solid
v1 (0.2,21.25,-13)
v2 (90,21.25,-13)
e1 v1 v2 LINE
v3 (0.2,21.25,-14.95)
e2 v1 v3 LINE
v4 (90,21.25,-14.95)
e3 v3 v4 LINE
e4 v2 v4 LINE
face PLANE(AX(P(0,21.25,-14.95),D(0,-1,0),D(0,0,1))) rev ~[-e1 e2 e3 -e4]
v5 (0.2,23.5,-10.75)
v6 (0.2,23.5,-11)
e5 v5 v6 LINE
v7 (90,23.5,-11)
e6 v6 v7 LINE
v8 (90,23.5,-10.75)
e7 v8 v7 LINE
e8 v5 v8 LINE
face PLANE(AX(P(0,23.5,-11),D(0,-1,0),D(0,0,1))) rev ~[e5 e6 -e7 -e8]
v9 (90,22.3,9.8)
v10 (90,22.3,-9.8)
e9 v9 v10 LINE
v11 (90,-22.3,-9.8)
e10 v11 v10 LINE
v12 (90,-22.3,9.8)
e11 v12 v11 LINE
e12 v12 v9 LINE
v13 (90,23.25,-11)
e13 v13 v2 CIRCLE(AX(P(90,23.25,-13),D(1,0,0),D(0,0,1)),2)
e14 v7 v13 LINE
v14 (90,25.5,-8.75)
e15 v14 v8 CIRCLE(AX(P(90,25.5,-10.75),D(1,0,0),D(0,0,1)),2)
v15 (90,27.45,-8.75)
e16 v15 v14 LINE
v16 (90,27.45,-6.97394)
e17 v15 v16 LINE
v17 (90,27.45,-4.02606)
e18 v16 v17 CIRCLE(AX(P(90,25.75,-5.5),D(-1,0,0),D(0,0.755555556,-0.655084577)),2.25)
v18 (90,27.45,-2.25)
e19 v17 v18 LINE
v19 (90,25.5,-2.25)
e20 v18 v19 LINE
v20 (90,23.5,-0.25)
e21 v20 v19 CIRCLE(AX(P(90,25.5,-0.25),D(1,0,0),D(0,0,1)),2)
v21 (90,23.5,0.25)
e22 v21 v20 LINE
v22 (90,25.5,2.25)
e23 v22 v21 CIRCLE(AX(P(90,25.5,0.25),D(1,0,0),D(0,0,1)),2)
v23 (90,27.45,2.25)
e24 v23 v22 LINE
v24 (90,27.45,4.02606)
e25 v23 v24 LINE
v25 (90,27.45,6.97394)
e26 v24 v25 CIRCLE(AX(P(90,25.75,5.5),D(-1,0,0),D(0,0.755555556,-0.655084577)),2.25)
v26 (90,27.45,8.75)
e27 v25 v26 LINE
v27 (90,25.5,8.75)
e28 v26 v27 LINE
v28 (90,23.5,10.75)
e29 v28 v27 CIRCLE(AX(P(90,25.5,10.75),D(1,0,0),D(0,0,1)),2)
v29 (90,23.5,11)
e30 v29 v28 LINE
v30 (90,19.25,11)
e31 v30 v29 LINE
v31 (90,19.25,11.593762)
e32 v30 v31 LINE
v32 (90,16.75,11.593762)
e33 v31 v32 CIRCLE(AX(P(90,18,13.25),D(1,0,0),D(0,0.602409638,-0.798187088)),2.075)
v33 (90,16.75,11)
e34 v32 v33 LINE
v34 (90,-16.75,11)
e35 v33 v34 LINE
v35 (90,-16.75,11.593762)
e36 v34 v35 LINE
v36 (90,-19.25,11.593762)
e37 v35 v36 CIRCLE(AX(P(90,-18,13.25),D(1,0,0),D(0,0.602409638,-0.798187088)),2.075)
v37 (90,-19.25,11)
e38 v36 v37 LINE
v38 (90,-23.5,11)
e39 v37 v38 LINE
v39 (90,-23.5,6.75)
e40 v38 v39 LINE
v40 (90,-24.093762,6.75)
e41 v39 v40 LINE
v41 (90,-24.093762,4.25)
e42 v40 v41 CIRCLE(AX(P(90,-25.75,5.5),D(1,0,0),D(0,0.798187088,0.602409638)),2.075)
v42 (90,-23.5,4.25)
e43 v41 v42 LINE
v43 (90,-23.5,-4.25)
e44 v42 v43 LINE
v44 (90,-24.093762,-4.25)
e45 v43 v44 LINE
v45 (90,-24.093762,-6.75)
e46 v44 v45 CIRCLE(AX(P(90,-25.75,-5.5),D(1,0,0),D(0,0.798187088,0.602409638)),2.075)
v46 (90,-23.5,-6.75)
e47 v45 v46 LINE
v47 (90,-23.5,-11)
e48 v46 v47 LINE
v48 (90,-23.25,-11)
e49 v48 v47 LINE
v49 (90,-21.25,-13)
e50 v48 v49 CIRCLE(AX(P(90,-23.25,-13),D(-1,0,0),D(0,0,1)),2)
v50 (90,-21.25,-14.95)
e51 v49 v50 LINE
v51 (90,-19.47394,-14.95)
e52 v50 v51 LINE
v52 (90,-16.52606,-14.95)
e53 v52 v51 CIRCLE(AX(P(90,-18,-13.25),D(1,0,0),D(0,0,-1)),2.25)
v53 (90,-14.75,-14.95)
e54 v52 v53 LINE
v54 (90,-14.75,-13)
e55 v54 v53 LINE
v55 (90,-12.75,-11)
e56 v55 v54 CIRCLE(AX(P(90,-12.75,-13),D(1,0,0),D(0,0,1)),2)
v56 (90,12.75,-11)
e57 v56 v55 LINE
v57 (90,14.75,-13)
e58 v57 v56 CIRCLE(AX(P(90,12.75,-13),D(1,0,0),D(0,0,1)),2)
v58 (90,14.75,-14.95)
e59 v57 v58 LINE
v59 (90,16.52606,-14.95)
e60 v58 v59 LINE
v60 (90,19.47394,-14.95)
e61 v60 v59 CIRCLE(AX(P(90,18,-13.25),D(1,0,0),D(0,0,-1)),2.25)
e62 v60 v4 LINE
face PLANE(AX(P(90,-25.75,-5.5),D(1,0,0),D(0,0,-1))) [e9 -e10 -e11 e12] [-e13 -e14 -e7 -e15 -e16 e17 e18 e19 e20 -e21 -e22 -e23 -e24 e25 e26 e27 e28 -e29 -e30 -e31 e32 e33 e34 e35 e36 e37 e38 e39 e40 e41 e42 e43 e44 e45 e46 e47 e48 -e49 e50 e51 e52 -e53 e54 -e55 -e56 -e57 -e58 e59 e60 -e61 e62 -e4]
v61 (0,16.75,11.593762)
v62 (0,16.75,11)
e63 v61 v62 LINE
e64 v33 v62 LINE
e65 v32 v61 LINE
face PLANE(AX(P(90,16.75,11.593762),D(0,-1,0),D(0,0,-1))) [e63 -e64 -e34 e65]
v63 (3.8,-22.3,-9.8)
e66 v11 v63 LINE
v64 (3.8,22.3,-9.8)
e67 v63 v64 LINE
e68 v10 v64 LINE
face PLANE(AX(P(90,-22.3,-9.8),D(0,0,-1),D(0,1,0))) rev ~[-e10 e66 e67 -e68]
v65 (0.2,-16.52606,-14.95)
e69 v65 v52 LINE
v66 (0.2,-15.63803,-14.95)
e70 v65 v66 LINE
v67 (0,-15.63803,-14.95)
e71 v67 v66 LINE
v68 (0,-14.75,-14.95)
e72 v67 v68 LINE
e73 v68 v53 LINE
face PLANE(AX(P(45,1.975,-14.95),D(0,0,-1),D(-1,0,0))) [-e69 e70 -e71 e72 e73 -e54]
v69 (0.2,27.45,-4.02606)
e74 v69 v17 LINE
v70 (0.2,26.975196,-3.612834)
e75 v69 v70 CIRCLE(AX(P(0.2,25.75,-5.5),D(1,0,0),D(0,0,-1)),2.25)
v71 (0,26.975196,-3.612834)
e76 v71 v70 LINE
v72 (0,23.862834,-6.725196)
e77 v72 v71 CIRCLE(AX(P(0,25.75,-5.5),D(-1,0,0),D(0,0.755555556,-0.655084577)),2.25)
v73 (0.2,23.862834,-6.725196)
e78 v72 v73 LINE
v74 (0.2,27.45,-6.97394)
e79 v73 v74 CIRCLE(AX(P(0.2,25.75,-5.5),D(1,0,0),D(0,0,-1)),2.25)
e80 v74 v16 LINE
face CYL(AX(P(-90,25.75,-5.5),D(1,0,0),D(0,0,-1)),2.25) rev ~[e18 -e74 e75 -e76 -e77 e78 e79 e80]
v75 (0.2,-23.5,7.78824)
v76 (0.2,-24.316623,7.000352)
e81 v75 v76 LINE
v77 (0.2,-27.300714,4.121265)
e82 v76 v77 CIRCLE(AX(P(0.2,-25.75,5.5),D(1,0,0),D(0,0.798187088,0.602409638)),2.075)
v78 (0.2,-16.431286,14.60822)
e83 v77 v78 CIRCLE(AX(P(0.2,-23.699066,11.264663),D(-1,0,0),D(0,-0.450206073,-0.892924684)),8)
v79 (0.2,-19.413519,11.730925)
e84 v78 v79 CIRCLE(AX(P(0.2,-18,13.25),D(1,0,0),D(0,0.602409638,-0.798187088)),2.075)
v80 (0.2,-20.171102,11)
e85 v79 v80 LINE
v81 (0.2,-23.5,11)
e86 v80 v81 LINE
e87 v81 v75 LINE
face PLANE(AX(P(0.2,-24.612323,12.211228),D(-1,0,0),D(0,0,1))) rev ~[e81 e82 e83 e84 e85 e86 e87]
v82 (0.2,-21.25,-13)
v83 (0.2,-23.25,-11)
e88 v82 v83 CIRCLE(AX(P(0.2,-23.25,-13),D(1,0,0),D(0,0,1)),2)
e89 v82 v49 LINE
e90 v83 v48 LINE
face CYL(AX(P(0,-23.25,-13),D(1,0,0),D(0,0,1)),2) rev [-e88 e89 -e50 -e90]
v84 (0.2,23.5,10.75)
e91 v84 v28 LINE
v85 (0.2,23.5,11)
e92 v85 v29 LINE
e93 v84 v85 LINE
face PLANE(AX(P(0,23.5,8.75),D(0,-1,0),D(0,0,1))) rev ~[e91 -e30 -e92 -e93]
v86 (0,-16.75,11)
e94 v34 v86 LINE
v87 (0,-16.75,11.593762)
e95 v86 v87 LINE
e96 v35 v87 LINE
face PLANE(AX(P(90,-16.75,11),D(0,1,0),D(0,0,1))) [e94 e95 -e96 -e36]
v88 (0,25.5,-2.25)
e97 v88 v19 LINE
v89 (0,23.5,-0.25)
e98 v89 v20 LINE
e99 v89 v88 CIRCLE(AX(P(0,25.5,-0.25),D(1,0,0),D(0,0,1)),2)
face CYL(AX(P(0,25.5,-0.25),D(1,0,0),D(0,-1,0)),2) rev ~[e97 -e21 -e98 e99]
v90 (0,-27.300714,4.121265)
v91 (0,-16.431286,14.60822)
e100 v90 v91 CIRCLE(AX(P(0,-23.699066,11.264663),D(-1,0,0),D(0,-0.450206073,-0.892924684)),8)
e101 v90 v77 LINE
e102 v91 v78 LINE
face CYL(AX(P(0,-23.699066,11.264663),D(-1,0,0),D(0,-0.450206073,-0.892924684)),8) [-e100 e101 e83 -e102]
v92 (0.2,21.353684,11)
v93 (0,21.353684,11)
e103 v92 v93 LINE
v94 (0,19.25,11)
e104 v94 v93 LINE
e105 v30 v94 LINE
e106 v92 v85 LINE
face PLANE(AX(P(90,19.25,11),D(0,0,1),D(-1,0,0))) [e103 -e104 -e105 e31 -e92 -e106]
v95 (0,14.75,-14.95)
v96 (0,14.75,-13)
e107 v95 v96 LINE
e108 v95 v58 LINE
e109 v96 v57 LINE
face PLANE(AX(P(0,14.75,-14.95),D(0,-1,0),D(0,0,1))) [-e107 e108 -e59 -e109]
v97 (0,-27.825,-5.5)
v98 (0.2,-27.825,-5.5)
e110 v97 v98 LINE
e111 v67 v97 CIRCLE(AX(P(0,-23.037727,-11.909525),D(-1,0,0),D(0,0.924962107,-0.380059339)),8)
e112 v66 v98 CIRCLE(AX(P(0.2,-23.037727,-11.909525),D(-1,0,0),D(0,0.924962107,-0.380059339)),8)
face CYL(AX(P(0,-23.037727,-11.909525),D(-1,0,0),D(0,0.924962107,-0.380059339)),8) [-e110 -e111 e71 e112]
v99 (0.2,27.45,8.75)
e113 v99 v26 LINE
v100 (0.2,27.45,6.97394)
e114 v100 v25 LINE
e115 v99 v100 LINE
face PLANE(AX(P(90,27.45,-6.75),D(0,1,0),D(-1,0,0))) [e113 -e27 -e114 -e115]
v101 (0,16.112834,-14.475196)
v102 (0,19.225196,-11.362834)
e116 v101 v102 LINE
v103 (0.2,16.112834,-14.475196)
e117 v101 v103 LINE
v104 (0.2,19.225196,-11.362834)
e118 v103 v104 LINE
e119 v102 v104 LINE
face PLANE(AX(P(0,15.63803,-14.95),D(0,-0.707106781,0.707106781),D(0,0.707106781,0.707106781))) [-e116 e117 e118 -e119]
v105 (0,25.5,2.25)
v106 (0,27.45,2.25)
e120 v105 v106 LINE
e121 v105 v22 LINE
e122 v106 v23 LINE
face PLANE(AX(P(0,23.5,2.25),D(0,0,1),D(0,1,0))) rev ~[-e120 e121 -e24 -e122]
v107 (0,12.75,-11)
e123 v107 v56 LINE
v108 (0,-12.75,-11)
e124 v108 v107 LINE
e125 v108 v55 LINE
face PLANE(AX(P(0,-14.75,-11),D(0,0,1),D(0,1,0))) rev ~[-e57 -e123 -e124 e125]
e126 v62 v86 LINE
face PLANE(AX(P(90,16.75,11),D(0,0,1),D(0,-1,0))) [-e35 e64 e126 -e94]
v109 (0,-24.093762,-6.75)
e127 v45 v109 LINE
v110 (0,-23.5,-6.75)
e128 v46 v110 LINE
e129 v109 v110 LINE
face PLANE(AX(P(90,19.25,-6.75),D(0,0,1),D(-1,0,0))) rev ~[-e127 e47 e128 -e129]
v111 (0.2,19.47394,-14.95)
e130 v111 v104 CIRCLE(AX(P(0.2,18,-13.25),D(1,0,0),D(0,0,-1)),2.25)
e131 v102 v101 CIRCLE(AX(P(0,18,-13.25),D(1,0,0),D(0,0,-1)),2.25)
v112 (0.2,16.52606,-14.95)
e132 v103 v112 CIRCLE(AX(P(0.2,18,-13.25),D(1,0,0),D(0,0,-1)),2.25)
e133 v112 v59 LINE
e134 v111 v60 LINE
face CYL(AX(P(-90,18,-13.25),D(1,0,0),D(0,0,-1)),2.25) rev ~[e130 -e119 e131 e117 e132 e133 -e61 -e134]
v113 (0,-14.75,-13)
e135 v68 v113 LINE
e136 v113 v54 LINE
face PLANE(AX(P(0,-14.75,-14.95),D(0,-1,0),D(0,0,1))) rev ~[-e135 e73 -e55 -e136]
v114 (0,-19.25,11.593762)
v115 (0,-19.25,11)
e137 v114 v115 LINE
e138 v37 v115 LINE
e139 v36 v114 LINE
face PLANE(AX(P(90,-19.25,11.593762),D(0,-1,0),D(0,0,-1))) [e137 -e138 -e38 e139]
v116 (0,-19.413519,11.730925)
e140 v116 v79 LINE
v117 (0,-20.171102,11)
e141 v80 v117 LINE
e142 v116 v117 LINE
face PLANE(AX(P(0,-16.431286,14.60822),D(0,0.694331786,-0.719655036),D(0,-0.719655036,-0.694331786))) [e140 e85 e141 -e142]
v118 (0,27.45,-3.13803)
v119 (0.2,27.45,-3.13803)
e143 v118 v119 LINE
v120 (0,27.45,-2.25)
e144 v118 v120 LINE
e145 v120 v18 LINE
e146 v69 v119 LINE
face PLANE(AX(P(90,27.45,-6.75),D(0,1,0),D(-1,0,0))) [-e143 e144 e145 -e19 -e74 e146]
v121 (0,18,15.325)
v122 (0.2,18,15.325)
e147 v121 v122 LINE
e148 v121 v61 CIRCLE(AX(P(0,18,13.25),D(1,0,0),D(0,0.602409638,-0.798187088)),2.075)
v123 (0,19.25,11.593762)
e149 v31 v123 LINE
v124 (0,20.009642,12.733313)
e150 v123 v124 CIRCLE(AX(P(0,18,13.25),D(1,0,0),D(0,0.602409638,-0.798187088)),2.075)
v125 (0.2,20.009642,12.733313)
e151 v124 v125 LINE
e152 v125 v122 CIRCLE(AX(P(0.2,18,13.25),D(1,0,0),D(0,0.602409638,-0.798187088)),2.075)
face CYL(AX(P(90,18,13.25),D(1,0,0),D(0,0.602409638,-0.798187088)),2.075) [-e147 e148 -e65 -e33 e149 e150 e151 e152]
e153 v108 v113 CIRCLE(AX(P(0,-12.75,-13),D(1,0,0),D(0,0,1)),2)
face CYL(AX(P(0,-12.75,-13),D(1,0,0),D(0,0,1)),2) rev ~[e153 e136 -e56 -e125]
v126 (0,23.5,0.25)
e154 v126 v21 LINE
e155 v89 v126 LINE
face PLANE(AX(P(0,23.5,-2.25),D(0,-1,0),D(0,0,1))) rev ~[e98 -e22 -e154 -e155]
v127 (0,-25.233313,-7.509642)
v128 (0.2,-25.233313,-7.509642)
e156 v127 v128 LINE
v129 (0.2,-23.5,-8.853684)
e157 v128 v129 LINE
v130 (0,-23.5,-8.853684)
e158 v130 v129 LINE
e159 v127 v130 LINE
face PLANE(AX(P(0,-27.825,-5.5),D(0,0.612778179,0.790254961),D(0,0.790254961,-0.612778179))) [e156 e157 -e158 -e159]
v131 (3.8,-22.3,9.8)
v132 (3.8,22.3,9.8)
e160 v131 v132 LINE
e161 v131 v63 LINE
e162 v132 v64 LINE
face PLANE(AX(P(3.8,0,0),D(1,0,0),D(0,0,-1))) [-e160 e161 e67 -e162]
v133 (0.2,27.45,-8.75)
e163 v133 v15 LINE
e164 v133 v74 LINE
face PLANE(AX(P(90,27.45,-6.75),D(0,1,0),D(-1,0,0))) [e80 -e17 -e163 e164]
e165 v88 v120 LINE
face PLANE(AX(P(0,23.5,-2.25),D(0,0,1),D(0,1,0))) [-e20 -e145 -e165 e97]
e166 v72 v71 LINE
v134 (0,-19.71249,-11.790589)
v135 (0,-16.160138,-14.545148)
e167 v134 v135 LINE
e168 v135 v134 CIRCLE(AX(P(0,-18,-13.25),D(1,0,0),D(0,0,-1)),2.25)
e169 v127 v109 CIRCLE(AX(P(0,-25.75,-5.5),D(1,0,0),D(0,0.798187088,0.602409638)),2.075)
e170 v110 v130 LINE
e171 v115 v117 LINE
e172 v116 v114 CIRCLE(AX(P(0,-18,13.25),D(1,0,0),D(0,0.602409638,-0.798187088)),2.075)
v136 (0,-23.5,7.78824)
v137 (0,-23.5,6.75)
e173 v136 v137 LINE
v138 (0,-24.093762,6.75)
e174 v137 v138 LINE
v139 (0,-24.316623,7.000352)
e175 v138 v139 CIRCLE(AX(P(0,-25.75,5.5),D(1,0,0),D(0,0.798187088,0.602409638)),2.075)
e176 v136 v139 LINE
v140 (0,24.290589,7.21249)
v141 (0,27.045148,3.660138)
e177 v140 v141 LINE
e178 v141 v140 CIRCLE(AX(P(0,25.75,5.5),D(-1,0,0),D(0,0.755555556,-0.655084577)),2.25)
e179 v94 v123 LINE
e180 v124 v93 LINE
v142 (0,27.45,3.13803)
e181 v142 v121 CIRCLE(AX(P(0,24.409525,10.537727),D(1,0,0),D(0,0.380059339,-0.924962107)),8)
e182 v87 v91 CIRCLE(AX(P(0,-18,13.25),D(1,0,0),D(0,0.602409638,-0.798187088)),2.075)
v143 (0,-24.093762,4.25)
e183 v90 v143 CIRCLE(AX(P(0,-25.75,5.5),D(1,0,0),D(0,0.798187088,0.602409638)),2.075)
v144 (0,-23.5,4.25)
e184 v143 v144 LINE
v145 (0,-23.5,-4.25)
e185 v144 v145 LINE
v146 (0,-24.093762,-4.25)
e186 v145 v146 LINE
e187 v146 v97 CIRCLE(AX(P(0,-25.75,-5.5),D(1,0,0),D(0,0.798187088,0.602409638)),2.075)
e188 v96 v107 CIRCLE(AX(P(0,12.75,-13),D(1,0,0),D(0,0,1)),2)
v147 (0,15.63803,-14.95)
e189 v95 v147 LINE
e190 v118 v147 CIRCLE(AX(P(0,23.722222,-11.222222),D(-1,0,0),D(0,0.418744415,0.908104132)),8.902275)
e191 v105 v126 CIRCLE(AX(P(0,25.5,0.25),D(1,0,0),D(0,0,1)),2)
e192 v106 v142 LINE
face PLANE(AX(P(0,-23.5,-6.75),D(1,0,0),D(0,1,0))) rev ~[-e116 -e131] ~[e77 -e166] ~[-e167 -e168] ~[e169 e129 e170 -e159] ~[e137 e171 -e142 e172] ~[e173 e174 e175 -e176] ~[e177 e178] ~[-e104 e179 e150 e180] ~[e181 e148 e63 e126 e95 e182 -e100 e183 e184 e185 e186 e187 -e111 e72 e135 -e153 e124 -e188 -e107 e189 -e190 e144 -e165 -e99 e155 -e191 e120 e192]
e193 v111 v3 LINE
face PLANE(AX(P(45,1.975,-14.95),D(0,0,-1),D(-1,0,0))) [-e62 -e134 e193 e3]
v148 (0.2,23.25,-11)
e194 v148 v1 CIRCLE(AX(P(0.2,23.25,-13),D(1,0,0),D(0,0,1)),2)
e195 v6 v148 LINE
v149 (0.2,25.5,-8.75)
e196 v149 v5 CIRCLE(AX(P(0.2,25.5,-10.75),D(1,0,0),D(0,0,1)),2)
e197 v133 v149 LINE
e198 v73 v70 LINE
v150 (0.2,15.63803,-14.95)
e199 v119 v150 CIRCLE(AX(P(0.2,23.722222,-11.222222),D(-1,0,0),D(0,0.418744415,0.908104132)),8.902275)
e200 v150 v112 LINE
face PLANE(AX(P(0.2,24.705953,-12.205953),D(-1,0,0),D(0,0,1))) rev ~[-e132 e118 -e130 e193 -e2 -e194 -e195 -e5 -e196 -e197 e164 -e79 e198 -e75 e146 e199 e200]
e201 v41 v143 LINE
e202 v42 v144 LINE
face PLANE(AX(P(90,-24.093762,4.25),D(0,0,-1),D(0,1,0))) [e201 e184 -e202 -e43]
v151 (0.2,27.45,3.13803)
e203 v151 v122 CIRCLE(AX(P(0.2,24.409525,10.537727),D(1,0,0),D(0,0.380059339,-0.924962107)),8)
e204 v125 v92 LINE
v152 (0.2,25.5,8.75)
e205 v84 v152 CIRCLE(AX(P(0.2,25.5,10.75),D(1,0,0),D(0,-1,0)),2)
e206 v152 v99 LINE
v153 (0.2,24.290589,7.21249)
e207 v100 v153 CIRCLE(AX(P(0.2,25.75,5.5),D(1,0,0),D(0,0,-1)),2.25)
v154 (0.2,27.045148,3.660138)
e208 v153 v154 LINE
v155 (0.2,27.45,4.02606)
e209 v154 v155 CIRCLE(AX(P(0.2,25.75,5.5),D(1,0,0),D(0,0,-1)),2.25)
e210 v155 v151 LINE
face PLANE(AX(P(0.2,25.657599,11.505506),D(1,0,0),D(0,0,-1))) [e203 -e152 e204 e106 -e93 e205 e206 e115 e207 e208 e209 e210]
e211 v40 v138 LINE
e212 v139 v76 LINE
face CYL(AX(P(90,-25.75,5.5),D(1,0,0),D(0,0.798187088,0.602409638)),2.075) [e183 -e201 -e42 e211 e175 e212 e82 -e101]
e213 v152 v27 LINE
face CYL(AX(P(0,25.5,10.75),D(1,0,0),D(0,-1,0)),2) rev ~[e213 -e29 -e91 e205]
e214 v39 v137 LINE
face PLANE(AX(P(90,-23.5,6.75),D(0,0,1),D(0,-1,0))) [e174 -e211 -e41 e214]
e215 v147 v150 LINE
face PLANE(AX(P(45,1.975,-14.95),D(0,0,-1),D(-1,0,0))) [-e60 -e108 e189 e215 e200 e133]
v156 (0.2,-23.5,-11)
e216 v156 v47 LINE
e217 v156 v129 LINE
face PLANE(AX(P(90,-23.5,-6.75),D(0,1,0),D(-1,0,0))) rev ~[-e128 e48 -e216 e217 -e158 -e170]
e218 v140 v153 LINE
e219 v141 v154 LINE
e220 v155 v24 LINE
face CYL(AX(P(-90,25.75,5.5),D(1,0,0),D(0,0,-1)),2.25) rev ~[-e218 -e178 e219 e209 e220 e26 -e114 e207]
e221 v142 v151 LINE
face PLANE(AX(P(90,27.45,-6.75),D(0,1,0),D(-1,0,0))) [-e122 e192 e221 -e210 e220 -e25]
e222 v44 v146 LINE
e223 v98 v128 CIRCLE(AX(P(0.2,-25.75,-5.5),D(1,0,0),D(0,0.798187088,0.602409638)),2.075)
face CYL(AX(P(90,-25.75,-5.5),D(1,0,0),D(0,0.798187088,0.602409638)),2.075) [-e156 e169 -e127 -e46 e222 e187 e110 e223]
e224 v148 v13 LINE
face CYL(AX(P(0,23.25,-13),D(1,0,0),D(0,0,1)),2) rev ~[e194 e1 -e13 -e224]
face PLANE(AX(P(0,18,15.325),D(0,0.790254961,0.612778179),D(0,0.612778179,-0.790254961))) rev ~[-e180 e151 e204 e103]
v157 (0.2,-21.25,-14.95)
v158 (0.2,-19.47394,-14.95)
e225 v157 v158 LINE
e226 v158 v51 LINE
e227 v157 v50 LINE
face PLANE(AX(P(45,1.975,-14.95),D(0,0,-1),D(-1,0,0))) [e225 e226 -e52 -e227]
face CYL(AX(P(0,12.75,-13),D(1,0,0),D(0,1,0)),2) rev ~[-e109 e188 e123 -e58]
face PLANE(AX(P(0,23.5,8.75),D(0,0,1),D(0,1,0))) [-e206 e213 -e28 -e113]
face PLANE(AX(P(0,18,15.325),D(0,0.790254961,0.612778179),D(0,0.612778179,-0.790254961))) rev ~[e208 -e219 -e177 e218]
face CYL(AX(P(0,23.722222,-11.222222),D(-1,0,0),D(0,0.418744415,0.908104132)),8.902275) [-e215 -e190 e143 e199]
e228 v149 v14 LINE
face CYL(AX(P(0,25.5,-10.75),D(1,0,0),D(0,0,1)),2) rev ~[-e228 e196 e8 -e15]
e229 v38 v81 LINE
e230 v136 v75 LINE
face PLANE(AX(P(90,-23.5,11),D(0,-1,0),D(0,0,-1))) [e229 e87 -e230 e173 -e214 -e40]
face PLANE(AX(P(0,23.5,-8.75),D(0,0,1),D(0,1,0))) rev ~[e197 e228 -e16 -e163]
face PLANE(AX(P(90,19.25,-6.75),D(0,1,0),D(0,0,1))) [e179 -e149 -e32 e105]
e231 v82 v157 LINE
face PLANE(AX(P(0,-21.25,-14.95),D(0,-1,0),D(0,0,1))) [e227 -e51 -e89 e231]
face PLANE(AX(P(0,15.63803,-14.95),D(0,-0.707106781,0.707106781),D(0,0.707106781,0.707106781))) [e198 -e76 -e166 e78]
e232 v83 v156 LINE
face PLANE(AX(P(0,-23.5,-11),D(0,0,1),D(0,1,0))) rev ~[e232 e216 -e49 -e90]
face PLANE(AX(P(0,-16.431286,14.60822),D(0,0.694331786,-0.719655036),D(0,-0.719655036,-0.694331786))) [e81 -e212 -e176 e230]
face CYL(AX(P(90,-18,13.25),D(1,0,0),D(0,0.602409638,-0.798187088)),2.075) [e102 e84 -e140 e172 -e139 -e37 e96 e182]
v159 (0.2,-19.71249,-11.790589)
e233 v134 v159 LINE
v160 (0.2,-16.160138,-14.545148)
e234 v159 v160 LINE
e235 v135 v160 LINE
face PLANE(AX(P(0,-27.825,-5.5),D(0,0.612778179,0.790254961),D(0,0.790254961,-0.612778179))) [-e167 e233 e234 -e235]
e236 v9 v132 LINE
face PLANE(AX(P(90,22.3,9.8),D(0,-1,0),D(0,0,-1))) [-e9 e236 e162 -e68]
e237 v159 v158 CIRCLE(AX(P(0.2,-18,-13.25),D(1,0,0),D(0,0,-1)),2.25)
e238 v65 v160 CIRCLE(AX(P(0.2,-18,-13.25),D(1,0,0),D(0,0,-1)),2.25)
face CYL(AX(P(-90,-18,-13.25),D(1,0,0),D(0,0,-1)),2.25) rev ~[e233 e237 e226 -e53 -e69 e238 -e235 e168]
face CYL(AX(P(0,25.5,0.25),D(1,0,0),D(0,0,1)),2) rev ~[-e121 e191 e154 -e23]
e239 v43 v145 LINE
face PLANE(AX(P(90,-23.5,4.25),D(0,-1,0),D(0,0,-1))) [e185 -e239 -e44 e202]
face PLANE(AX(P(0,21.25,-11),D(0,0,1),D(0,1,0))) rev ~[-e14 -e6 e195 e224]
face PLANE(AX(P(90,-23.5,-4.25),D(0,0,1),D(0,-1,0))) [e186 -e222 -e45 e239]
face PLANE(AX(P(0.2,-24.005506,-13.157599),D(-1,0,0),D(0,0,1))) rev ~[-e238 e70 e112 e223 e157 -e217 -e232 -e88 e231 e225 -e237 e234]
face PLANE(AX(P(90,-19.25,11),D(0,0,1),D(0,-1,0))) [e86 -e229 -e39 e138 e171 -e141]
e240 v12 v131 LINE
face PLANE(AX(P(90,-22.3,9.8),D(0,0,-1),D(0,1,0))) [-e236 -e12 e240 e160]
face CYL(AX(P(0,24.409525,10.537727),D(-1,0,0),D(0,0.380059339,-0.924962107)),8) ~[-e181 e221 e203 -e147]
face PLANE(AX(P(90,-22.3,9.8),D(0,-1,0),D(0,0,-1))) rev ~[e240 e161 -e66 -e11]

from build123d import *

# Parameters (mm, degrees)
EXTRUDE_1_DEPTH             = 90
SKETCH_2_W                  = 90
SKETCH_2_H                  = 17.75
EXTRUDE_2_DEPTH             = 8.2
SKETCH_3_W                  = 90
SKETCH_3_H                  = 50.95
EXTRUDE_3_DEPTH             = 8.2
SKETCH_4_W                  = 3.95
SKETCH_4_H                  = 29.5
CUT_EXTRUDE_1_DEPTH         = 91
SKETCH_5_W                  = 3.95
SKETCH_5_H                  = 6.2
CUT_EXTRUDE_2_DEPTH         = 91
SKETCH_6_W                  = 2.25
SKETCH_6_H                  = 3.95
CUT_EXTRUDE_3_DEPTH         = 91
SKETCH_7_W                  = 4.5
SKETCH_7_H                  = 3.95
CUT_EXTRUDE_4_DEPTH         = 91
SKETCH_8_W                  = 2.25
SKETCH_8_H                  = 3.95
CUT_EXTRUDE_5_DEPTH         = 91
SKETCH_9_W                  = 3.95
SKETCH_9_H                  = 2.25
CUT_EXTRUDE_6_DEPTH         = 91
SKETCH_10_W                 = 19.6
SKETCH_10_H                 = 44.6
CUT_EXTRUDE_7_DEPTH         = 86.2
HOLE_WIZARD_2_5_2_5_1_D     = 2.5
HOLE_WIZARD_2_5_2_5_1_DEPTH = 90
HOLE_WIZARD_4_5_4_5_1_D     = 4.5
HOLE_WIZARD_4_5_4_5_1_DEPTH = 90
FILLET_1_R                  = 2
FILLET_2_R                  = 2
SKETCH_17_R                 = 1.25
EXTRUDE_4_DEPTH             = 90
EXTRUDE_5_DEPTH             = 0.2


with BuildPart() as part:
    # Эскиз1 → Бобышка-Вытянуть1 (new body)
    with BuildSketch(Plane(origin=(90, 0, 0), x_dir=(0, 0, -1), z_dir=(1, 0, 0))):
        with BuildLine():
            Line((6.75, -24.093761792), (6.75, 19.25))
            Line((6.75, 19.25), (-11.593761792, 19.25))
            ThreePointArc((-11.593761792, 19.25), (-15.325, 18), (-11.593761792, 16.75))
            Line((-11.593761792, 16.75), (-11, 16.75))
            Line((-11, 16.75), (-11, -16.75))
            Line((-11, -16.75), (-11.593761792, -16.75))
            ThreePointArc((-11.593761792, -16.75), (-15.325, -18), (-11.593761792, -19.25))
            Line((-11.593761792, -19.25), (-11, -19.25))
            Line((-11, -19.25), (-11, -23.5))
            Line((-11, -23.5), (-6.75, -23.5))
            Line((-6.75, -23.5), (-6.75, -24.093761792))
            ThreePointArc((-6.75, -24.093761792), (-5.5, -27.825), (-4.25, -24.093761792))
            Line((-4.25, -24.093761792), (-4.25, -23.5))
            Line((-4.25, -23.5), (4.25, -23.5))
            Line((4.25, -23.5), (4.25, -24.093761792))
            ThreePointArc((4.25, -24.093761792), (5.5, -27.825), (6.75, -24.093761792))
        make_face()
    extrude(amount=-EXTRUDE_1_DEPTH)

    # Эскиз2 → Бобышка-Вытянуть2 (add)
    with BuildSketch(Plane(origin=(0, 19.25, 0), x_dir=(-1, 0, 0), z_dir=(0, 1, 0))):
        with Locations((-45, 2.125)):
            Rectangle(SKETCH_2_W, SKETCH_2_H)
    extrude(amount=EXTRUDE_2_DEPTH)

    # Эскиз3 → Бобышка-Вытянуть3 (add)
    with BuildSketch(Plane(origin=(0, 0, -6.75), x_dir=(-1, 0, 0), z_dir=(0, 0, -1))):
        with Locations((-45, 1.975)):
            Rectangle(SKETCH_3_W, SKETCH_3_H)
    extrude(amount=EXTRUDE_3_DEPTH)

    # Эскиз4 → Вырез-Вытянуть1 (cut, through all)
    with BuildSketch(Plane.ZY):
        with Locations((-12.975, 0)):
            Rectangle(SKETCH_4_W, SKETCH_4_H)
    extrude(amount=-CUT_EXTRUDE_1_DEPTH, mode=Mode.SUBTRACT)

    # Эскиз5 → Вырез-Вытянуть2 (cut, through all)
    with BuildSketch(Plane.ZY):
        with Locations((-12.975, 24.35)):
            Rectangle(SKETCH_5_W, SKETCH_5_H)
    extrude(amount=-CUT_EXTRUDE_2_DEPTH, mode=Mode.SUBTRACT)

    # Эскиз6 → Вырез-Вытянуть3 (cut, through all)
    with BuildSketch(Plane.ZY):
        with Locations((-9.875, 25.475)):
            Rectangle(SKETCH_6_W, SKETCH_6_H)
    extrude(amount=-CUT_EXTRUDE_3_DEPTH, mode=Mode.SUBTRACT)

    # Эскиз7 → Вырез-Вытянуть4 (cut, through all)
    with BuildSketch(Plane.ZY):
        with Locations((0, 25.475)):
            Rectangle(SKETCH_7_W, SKETCH_7_H)
    extrude(amount=-CUT_EXTRUDE_4_DEPTH, mode=Mode.SUBTRACT)

    # Эскиз8 → Вырез-Вытянуть5 (cut, through all)
    with BuildSketch(Plane.ZY):
        with Locations((9.875, 25.475)):
            Rectangle(SKETCH_8_W, SKETCH_8_H)
    extrude(amount=-CUT_EXTRUDE_5_DEPTH, mode=Mode.SUBTRACT)

    # Эскиз9 → Вырез-Вытянуть6 (cut, through all)
    with BuildSketch(Plane.ZY):
        with Locations((-12.975, -22.375)):
            Rectangle(SKETCH_9_W, SKETCH_9_H)
    extrude(amount=-CUT_EXTRUDE_6_DEPTH, mode=Mode.SUBTRACT)

    # Эскиз10 → Вырез-Вытянуть7 (cut)
    with BuildSketch(Plane(origin=(90, 0, 0), x_dir=(0, 0, -1), z_dir=(1, 0, 0))):
        Rectangle(SKETCH_10_W, SKETCH_10_H)
    extrude(amount=-CUT_EXTRUDE_7_DEPTH, mode=Mode.SUBTRACT)

    # Диаметр отверстия Ø2.5 (2.5)1
    with Locations(Plane(origin=(90, 0, 0), x_dir=(0, 0, -1), z_dir=(1, 0, 0))):
        with Locations((5.5, -25.75), (-13.25, -18), (-5.5, -25.75), (-13.25, 18)):
            Hole(HOLE_WIZARD_2_5_2_5_1_D / 2, depth=HOLE_WIZARD_2_5_2_5_1_DEPTH)

    # Диаметр отверстия Ø4.5 (4.5)1
    with Locations(Plane.ZY):
        with Locations((-13.25, -18), (-13.25, 18), (-5.5, 25.75), (5.5, 25.75)):
            Hole(HOLE_WIZARD_4_5_4_5_1_D / 2, depth=HOLE_WIZARD_4_5_4_5_1_DEPTH)

    # Скругление1
    fillet_1_edges = [part.edges().sort_by_distance(p)[0] for p in [
        (45, 23.5, 8.75),
    ]]
    fillet(fillet_1_edges, radius=FILLET_1_R)

    # Скругление2
    fillet_2_edges = [part.edges().sort_by_distance(p)[0] for p in [
        (45, 23.5, -8.75),
        (45, 23.5, 2.25),
        (45, 23.5, -2.25),
        (45, -21.25, -11),
        (45, 14.75, -11),
        (45, -14.75, -11),
        (45, 21.25, -11),
    ]]
    fillet(fillet_2_edges, radius=FILLET_2_R)

    # Эскиз17 → Бобышка-Вытянуть4 (add)
    with BuildSketch(Plane(origin=(90, 0, 0), x_dir=(0, 0, -1), z_dir=(1, 0, 0))):
        with Locations((5.5, -25.75)):
            Circle(SKETCH_17_R)
        with Locations((-5.5, -25.75)):
            Circle(SKETCH_17_R)
        with Locations((-13.25, -18)):
            Circle(SKETCH_17_R)
        with Locations((-13.25, 18)):
            Circle(SKETCH_17_R)
    extrude(amount=-EXTRUDE_4_DEPTH)

    # Эскиз19 → Бобышка-Вытянуть5 (add)
    with BuildSketch(Plane.ZY):
        with BuildLine():
            Line((-14.95, 15.638029851), (-3.138029851, 27.45))
            ThreePointArc((-3.138029851, 27.45), (-17.517080976, 30.017080976), (-14.95, 15.638029851))
        make_face()
        with BuildLine():
            Line((15.325, 18), (3.138029851, 27.45))
            ThreePointArc((3.138029851, 27.45), (15.439952139, 30.731564972), (15.325, 18))
        make_face()
        with BuildLine():
            Line((14.608219689, -16.431285789), (4.121265041, -27.300714324))
            ThreePointArc((4.121265041, -27.300714324), (17.021902806, -29.253720028), (14.608219689, -16.431285789))
        make_face()
        with BuildLine():
            Line((-5.5, -27.825), (-14.95, -15.638029851))
            ThreePointArc((-14.95, -15.638029851), (-18.231564972, -27.939952139), (-5.5, -27.825))
        make_face()
    extrude(amount=-EXTRUDE_5_DEPTH)


solid = part.part
